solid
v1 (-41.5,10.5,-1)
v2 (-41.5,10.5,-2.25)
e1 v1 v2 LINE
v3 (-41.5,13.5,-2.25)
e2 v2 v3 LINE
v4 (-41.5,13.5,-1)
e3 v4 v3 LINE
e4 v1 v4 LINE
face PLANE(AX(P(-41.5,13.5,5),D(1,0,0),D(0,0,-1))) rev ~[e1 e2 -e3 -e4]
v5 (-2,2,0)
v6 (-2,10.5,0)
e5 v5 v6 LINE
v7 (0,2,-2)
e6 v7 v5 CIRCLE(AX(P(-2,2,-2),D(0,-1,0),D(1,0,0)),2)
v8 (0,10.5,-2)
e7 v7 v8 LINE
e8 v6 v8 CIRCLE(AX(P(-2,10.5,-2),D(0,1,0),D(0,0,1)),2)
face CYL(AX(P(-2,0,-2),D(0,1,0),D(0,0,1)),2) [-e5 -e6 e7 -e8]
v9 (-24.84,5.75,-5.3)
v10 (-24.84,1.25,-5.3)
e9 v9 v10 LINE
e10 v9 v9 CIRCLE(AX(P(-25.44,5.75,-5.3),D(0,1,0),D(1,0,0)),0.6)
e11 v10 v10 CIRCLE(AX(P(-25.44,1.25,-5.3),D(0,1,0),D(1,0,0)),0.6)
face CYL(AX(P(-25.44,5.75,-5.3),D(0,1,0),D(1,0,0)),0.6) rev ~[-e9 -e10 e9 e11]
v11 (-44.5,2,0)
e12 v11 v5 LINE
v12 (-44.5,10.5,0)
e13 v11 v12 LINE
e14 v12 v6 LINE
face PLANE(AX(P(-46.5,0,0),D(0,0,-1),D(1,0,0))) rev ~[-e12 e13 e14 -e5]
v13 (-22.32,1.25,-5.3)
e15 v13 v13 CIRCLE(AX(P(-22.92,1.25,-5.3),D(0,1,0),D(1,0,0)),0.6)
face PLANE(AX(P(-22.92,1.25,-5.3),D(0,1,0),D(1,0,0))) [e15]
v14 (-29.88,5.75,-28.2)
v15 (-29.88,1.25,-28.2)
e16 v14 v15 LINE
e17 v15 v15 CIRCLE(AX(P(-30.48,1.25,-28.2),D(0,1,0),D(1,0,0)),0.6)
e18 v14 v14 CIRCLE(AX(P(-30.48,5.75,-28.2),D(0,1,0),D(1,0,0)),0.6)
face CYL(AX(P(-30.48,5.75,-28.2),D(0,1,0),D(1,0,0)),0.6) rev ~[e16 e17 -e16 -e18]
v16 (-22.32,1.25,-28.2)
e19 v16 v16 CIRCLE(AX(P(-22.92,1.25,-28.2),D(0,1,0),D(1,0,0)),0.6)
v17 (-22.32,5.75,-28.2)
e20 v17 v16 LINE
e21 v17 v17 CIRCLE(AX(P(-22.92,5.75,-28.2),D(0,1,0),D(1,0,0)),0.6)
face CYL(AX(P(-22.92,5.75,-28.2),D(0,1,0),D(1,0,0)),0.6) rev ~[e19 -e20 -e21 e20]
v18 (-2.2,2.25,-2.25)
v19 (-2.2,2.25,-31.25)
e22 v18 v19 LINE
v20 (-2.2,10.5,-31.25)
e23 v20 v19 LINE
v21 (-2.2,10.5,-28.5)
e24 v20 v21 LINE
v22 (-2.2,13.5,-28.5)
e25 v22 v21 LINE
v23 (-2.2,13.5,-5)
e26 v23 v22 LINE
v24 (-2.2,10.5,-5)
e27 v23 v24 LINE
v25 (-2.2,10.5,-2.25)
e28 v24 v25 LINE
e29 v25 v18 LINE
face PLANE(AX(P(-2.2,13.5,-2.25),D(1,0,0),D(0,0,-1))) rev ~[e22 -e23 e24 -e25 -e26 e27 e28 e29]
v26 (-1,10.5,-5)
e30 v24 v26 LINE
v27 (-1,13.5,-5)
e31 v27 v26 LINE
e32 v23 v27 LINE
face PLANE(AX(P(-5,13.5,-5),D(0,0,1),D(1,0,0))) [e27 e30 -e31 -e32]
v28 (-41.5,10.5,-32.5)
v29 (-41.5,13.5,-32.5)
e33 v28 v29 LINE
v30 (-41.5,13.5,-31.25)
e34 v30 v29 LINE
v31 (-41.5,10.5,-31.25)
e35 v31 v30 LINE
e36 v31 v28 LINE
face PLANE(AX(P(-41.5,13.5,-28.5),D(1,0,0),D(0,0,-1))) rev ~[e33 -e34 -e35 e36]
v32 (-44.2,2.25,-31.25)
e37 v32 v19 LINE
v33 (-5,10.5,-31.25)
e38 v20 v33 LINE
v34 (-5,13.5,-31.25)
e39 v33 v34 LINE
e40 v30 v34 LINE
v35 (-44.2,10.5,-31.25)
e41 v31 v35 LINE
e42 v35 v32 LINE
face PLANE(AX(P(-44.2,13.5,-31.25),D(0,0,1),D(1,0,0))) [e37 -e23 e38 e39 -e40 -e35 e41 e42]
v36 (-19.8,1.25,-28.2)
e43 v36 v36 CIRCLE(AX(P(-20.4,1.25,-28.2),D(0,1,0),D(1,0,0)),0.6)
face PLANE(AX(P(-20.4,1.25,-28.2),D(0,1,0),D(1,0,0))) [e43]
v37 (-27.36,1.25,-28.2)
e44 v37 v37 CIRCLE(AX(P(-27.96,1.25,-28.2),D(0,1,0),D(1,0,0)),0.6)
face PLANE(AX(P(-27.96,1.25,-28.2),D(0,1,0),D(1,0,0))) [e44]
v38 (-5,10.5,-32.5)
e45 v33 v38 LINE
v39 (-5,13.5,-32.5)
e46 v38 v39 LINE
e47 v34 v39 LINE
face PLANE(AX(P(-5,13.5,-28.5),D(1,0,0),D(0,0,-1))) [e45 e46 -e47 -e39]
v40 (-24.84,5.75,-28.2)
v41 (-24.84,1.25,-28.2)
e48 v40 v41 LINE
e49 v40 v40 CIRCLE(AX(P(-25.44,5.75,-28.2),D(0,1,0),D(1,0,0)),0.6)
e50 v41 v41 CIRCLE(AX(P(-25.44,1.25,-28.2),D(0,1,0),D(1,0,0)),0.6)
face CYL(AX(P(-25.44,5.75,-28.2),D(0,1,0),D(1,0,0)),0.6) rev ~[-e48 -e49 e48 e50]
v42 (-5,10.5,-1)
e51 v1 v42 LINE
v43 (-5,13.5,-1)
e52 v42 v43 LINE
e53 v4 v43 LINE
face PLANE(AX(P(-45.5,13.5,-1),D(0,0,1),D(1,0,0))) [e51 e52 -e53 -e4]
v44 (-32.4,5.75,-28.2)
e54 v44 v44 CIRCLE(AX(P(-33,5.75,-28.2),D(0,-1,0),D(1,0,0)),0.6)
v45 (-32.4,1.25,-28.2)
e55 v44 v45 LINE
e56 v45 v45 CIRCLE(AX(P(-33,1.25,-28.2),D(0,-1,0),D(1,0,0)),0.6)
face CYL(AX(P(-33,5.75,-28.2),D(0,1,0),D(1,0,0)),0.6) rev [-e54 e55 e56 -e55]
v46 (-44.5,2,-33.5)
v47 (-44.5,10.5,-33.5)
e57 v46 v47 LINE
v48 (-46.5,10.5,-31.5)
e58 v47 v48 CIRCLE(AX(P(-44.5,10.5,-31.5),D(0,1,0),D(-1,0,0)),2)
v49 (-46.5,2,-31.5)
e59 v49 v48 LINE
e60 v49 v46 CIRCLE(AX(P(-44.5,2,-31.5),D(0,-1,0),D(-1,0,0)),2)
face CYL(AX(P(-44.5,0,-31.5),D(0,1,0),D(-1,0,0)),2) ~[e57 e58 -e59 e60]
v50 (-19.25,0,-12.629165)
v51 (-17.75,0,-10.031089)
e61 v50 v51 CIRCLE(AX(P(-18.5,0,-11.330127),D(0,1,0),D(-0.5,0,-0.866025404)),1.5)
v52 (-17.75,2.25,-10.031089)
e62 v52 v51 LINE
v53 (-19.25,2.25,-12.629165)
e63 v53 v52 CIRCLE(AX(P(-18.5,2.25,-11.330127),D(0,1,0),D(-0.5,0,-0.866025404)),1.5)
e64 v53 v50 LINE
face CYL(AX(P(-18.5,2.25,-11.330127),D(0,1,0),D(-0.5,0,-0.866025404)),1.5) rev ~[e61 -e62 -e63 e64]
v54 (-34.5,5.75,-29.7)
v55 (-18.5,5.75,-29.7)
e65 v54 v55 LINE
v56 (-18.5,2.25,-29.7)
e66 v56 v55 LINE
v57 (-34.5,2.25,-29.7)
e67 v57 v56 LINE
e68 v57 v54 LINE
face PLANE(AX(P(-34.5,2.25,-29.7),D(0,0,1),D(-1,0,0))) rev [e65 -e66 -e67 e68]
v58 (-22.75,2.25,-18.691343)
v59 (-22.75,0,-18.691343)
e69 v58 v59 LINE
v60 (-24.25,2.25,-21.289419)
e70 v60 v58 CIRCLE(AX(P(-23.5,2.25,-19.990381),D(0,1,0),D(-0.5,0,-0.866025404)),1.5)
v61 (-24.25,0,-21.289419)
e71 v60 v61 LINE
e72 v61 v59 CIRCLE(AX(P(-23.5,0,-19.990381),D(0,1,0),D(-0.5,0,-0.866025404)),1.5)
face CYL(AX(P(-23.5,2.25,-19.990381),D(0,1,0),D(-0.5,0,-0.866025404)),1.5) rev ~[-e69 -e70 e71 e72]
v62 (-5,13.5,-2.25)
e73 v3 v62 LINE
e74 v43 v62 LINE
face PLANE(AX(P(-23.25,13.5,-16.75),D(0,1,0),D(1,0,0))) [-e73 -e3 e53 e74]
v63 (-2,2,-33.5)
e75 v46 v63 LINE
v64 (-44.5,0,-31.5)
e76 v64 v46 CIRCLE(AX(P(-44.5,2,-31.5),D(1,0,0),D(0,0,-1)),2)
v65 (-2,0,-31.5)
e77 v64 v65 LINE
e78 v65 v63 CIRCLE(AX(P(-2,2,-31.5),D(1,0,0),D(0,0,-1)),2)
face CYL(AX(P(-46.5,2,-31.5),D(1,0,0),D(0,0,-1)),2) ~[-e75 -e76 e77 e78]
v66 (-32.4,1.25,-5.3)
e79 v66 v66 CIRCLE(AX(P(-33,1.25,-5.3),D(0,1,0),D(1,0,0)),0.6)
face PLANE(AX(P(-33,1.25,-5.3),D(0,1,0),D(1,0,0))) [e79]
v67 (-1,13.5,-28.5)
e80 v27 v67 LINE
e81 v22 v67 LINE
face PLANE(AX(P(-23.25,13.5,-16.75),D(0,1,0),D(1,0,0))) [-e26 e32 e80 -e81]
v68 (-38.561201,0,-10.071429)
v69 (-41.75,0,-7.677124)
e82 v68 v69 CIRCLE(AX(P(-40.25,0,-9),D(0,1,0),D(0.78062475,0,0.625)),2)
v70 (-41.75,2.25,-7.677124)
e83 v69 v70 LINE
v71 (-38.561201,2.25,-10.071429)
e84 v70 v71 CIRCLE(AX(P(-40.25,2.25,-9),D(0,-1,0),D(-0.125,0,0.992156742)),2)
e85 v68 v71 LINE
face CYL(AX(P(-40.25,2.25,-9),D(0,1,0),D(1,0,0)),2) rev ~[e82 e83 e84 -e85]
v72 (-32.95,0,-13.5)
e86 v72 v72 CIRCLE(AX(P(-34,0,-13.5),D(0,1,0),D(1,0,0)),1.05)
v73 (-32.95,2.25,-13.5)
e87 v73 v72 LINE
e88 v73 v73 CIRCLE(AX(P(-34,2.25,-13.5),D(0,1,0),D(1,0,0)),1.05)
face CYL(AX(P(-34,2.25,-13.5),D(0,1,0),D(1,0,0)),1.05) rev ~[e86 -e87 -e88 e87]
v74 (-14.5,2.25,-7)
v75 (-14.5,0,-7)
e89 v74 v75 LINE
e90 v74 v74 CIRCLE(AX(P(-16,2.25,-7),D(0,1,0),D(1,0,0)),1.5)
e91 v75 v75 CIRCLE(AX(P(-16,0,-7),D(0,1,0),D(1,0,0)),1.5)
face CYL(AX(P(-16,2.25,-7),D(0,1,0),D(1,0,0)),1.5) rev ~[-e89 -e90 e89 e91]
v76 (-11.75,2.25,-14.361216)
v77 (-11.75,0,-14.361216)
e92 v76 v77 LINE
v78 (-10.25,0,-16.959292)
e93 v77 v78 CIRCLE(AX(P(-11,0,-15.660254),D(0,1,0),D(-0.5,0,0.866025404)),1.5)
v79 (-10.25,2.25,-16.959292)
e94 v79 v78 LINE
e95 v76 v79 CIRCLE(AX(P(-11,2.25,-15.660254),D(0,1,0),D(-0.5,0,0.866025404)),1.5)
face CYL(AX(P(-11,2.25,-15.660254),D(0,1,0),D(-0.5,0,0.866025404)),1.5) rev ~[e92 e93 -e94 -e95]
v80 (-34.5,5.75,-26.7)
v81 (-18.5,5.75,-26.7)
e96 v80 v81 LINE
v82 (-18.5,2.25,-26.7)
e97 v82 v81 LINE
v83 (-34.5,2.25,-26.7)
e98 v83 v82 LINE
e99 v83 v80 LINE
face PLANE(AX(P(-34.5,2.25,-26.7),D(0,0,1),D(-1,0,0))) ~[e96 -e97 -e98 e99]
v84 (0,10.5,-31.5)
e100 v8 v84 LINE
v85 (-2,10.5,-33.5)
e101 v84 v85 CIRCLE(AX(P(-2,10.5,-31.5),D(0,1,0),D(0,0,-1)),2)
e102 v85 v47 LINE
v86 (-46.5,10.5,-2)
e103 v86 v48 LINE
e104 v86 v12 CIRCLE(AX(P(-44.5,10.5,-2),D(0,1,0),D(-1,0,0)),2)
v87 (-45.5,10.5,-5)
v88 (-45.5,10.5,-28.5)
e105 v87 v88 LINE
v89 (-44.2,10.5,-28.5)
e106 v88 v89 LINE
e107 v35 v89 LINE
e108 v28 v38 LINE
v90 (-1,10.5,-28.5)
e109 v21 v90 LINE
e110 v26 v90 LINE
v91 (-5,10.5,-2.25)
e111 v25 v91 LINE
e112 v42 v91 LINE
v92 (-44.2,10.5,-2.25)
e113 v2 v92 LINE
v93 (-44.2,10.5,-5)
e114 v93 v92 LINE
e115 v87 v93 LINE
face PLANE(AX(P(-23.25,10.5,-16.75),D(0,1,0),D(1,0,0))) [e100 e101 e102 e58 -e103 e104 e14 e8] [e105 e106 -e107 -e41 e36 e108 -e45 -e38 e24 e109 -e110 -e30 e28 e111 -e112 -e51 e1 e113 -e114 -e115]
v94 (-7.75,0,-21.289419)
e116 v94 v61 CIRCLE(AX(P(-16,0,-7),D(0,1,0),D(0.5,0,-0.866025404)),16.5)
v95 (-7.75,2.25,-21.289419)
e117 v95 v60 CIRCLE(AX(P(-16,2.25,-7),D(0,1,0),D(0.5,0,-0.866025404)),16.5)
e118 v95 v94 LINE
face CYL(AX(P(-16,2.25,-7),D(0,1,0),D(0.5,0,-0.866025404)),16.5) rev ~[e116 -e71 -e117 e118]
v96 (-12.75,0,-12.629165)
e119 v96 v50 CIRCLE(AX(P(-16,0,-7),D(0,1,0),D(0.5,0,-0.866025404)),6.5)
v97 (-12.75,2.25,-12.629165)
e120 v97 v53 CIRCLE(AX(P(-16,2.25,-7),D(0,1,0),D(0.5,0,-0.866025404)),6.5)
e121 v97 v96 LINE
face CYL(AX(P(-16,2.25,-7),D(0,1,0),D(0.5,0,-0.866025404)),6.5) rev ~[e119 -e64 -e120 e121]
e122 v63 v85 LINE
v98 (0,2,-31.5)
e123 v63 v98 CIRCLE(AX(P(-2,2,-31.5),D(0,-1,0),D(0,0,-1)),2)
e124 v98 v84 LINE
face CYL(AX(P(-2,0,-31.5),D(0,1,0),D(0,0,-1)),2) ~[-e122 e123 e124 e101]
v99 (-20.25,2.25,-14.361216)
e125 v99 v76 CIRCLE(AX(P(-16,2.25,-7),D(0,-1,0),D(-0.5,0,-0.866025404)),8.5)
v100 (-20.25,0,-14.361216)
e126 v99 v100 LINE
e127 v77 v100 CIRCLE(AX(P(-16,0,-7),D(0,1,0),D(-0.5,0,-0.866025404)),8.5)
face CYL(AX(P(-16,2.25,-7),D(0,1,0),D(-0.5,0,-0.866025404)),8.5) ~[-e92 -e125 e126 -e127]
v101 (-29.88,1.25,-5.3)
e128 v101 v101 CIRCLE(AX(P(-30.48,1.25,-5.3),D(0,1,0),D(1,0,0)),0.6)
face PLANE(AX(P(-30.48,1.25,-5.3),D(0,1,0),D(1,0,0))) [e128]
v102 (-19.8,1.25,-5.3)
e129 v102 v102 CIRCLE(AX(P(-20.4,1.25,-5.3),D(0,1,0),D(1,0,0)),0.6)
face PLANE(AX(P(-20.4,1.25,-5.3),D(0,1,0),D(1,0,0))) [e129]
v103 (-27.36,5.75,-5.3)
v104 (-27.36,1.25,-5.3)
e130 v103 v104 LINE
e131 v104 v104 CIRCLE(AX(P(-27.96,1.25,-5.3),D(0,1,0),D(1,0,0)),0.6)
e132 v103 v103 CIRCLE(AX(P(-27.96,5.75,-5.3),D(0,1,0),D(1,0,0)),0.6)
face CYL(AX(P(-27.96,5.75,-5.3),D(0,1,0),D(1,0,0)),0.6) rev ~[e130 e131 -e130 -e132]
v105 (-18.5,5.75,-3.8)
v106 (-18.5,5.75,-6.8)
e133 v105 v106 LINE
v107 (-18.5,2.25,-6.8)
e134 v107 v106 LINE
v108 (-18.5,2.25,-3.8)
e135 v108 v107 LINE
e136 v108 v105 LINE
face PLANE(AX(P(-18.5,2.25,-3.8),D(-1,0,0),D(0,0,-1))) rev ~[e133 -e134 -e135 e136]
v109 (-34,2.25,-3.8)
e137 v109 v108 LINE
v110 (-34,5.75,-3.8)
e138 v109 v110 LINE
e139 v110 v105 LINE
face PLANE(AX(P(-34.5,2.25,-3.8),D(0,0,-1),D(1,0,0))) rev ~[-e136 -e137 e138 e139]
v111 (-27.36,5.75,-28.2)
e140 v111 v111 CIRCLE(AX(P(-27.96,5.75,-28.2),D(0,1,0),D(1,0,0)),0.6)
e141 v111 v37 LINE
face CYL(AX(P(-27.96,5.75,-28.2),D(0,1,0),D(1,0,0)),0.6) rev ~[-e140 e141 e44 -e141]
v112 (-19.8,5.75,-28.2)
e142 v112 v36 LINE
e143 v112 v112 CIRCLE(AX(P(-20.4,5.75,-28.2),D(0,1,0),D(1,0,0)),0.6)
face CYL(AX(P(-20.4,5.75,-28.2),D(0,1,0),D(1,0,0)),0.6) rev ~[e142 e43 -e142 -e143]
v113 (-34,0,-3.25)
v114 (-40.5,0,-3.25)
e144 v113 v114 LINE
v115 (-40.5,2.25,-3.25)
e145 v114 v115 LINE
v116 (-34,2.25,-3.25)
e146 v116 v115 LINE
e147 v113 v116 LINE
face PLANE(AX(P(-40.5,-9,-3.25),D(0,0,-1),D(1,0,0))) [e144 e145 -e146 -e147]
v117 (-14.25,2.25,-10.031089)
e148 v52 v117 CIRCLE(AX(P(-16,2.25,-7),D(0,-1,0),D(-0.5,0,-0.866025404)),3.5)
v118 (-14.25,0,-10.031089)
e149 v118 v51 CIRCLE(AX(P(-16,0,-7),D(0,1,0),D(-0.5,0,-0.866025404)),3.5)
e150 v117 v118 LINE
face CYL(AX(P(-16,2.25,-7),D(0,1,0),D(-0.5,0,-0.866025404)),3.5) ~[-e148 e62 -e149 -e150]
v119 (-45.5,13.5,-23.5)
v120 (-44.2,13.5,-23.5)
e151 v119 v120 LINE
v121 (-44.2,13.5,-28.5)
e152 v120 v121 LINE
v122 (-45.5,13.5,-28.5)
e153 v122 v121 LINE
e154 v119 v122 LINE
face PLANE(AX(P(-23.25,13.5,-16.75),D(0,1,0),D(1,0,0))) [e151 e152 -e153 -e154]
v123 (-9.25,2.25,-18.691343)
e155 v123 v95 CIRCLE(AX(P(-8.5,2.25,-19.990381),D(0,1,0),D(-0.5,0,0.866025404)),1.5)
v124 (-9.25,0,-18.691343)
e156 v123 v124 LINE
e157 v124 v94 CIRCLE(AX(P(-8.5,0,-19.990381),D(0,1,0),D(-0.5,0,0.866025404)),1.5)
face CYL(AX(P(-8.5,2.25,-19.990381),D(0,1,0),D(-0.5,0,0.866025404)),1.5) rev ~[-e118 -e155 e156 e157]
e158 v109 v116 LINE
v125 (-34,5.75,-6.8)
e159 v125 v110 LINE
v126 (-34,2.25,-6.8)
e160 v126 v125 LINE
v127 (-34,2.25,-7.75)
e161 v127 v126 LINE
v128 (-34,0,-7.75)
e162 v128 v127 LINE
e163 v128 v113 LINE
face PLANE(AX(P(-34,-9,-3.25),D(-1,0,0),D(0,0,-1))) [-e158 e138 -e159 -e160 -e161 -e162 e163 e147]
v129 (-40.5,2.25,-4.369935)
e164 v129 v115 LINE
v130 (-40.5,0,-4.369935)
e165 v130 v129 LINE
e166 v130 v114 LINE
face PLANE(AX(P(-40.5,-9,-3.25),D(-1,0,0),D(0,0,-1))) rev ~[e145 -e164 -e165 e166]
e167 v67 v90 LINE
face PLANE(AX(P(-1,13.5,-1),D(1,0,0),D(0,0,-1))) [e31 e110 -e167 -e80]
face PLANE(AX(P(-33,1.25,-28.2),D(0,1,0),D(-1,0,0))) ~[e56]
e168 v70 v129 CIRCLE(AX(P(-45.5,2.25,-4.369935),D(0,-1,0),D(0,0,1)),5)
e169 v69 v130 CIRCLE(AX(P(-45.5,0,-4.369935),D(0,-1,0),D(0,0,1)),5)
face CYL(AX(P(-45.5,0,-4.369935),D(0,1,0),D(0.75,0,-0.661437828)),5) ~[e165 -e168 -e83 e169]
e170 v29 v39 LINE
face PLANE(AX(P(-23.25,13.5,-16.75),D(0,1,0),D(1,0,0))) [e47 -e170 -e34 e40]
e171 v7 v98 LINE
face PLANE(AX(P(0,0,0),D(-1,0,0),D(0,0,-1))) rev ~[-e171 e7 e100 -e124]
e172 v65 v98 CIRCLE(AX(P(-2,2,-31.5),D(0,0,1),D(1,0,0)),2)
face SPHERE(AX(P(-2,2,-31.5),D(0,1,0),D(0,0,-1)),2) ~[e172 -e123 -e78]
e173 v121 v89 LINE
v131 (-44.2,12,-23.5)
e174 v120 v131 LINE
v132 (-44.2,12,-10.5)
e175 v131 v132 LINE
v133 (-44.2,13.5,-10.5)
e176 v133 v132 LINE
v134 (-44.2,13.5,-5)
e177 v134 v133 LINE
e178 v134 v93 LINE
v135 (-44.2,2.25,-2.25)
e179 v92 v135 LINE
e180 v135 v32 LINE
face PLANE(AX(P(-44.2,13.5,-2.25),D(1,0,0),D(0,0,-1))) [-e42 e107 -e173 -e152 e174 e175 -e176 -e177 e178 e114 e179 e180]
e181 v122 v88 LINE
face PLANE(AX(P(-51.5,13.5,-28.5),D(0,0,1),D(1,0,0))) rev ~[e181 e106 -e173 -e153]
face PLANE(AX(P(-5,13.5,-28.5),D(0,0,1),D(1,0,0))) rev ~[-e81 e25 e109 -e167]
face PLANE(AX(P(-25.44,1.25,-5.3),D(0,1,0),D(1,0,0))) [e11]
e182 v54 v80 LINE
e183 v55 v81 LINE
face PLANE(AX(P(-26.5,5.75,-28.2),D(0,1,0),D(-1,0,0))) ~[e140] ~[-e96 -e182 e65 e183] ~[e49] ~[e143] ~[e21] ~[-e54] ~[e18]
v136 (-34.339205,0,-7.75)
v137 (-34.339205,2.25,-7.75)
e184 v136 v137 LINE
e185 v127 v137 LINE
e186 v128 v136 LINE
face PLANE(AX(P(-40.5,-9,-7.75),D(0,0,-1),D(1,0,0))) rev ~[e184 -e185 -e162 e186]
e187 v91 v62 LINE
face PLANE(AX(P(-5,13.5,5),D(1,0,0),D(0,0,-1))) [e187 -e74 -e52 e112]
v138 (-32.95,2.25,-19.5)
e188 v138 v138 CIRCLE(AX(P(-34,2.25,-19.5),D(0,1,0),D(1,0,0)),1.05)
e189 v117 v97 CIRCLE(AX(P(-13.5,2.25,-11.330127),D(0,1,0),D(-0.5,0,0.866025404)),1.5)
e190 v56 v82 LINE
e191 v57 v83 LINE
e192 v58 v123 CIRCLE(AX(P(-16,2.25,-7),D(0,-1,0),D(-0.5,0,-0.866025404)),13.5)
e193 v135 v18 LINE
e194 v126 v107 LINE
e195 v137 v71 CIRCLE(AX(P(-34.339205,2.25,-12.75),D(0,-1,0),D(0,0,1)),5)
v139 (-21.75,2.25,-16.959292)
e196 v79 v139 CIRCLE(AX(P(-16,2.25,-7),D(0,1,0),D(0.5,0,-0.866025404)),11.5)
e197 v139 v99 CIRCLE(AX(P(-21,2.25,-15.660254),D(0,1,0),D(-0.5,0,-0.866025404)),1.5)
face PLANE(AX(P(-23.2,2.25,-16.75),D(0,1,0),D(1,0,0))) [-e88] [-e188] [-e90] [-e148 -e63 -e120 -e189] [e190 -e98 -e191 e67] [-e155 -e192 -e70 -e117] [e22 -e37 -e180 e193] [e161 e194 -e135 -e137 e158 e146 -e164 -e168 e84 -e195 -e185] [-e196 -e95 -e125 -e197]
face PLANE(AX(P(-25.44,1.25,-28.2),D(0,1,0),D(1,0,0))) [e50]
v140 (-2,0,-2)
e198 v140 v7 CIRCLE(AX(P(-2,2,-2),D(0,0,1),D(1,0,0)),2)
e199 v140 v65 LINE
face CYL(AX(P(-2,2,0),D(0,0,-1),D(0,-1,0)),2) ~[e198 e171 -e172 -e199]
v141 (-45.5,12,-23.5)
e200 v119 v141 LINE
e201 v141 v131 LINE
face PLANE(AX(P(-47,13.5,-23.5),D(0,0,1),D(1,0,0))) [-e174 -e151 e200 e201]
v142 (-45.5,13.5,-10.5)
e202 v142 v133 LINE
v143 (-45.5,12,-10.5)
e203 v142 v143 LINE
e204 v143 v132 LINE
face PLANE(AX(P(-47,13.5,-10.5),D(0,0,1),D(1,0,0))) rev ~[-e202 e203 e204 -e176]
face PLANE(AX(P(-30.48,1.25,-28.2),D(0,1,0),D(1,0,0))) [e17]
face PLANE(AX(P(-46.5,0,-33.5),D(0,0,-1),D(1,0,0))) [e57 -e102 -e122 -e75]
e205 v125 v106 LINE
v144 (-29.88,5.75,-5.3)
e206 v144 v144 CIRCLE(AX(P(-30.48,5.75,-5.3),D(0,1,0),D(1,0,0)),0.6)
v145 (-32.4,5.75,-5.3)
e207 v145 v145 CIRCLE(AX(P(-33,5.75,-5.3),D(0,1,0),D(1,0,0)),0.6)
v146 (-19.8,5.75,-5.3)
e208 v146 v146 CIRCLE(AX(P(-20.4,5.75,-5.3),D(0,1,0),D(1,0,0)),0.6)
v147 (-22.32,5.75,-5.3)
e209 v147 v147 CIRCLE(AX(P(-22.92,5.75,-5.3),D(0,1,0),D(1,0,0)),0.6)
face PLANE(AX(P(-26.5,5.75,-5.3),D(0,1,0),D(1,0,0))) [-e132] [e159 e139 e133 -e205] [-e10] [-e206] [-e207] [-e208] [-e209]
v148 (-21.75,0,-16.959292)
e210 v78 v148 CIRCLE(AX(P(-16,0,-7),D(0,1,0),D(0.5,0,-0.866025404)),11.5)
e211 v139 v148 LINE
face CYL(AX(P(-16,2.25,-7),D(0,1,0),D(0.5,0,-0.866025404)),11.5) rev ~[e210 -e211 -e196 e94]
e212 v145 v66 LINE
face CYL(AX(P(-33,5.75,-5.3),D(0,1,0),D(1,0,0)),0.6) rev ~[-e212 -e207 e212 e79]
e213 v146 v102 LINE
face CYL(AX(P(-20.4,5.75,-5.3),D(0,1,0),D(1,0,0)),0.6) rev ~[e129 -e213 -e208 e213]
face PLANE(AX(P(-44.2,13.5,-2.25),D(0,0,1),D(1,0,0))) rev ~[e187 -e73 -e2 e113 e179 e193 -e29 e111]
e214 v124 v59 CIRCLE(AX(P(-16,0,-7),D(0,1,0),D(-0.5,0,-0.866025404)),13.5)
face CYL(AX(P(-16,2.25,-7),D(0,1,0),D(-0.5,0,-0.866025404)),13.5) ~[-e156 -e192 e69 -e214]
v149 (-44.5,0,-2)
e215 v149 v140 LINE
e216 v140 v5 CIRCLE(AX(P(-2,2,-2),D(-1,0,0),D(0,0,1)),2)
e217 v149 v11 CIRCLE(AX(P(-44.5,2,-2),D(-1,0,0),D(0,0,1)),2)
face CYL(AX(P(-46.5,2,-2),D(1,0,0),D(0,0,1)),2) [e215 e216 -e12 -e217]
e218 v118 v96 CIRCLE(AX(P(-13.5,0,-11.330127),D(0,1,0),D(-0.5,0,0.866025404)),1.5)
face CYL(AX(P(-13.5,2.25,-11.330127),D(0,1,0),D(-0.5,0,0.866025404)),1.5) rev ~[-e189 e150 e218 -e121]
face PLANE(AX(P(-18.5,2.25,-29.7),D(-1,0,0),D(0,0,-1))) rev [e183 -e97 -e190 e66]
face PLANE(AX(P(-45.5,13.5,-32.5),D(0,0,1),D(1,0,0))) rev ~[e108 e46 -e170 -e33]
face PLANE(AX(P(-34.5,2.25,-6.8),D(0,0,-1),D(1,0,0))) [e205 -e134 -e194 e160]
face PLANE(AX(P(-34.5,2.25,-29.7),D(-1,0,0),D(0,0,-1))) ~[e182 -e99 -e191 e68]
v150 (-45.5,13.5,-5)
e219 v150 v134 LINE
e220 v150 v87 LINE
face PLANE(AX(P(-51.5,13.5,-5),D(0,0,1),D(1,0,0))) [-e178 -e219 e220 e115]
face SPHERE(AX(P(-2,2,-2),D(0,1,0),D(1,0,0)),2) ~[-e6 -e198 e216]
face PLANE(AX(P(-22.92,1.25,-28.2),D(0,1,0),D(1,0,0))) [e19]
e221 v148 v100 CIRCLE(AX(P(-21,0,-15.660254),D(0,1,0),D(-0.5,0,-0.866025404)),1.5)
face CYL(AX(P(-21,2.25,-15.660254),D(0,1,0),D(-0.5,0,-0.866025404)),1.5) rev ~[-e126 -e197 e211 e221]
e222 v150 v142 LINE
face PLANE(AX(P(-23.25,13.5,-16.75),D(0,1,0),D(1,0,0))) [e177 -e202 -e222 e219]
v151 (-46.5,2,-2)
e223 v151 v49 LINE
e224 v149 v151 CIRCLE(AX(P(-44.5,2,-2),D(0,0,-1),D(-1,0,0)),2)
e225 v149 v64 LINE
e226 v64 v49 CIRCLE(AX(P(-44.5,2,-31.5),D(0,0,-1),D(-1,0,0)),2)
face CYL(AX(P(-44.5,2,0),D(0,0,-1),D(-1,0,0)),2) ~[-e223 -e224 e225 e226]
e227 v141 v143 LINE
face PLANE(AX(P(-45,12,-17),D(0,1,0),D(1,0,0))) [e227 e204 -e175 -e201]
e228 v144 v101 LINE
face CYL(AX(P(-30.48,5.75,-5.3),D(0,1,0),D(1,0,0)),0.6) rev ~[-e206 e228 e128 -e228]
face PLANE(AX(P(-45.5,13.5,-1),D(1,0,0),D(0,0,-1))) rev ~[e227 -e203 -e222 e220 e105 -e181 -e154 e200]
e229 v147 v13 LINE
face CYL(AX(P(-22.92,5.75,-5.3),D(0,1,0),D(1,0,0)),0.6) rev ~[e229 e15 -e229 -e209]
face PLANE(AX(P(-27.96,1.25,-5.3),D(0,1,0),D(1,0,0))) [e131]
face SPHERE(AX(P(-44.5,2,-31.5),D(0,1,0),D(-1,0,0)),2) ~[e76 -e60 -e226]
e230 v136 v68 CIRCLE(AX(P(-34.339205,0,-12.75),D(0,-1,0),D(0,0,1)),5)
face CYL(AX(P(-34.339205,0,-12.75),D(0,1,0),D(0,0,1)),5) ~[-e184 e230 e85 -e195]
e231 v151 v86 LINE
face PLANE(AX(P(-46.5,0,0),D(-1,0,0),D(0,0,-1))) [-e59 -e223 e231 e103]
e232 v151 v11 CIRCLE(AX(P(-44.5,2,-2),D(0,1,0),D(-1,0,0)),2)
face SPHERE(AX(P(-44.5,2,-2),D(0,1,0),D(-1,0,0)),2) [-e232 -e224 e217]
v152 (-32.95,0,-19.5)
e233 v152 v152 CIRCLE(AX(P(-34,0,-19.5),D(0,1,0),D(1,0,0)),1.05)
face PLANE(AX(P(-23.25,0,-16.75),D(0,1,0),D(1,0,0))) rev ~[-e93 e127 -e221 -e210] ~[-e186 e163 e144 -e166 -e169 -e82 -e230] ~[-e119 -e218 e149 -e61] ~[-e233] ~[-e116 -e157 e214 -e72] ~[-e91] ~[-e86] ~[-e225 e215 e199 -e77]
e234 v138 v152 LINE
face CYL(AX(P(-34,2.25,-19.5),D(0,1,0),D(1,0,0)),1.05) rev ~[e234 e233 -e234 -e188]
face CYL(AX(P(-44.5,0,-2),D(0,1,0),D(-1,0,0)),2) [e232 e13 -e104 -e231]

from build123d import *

# Parameters (mm, degrees)
SKETCH1_W               = 46.5
SKETCH1_H               = 33.5
BOSS_EXTRUDE1_DEPTH     = 13.5
SKETCH2_W               = 42
SKETCH2_H               = 29
CUT_EXTRUDE1_DEPTH      = 11.25
FILLET1_R               = 2
SKETCH4_R               = 1.05
CUT_EXTRUDE2_DEPTH      = 11.25
SKETCH6_R               = 1.5
CUT_EXTRUDE4_DEPTH      = 11.25
SKETCH7_R               = 2
CUT_EXTRUDE5_DEPTH      = 11.25
SKETCH8_W               = 16
SKETCH8_H               = 3
BOSS_EXTRUDE2_DEPTH     = 3.5
SKETCH9_R               = 0.6
CUT_EXTRUDE6_DEPTH      = 4.5
LPATTERN1_COUNT         = 6
LPATTERN1_PITCH         = 2.52
MIRROR1_COPY_1_SKETCH_R = 0.6
MIRROR1_COPY_1_DEPTH    = 4.5
MIRROR1_COPY_2_SKETCH_R = 0.6
MIRROR1_COPY_2_DEPTH    = 4.5
MIRROR1_COPY_3_SKETCH_R = 0.6
MIRROR1_COPY_3_DEPTH    = 4.5
MIRROR1_COPY_4_SKETCH_R = 0.6
MIRROR1_COPY_4_DEPTH    = 4.5
MIRROR1_COPY_5_SKETCH_R = 0.6
MIRROR1_COPY_5_DEPTH    = 4.5
SKETCH11_W              = 48.5
SKETCH11_H              = 35.5
SKETCH11_W_2            = 44.5
SKETCH11_H_2            = 31.5
CUT_EXTRUDE7_DEPTH      = 3
SKETCH12_W              = 4
SKETCH12_H              = 13
CUT_EXTRUDE8_DEPTH      = 1.5
SKETCH13_W              = 10
SKETCH13_H              = 10
CUT_EXTRUDE9_DEPTH      = 3
CUT_EXTRUDE3_DEPTH      = 10
CUT_EXTRUDE3_DEPTH_BACK = 11.25
SKETCH5_W               = 6.5
SKETCH5_H               = 4.5
FILLET2_R               = 5


with BuildPart() as part:
    # Sketch1 → Boss-Extrude1 (new body)
    with BuildSketch(Plane(origin=(0, 0, 0), x_dir=(1, 0, 0), z_dir=(0, 1, 0))):
        with Locations((-23.25, 16.75)):
            Rectangle(SKETCH1_W, SKETCH1_H)
    extrude(amount=BOSS_EXTRUDE1_DEPTH)

    # Sketch2 → Cut-Extrude1 (cut)
    with BuildSketch(Plane(origin=(0, 13.5, 0), x_dir=(1, 0, 0), z_dir=(0, 1, 0))):
        with Locations((-23.2, 16.75)):
            Rectangle(SKETCH2_W, SKETCH2_H)
    extrude(amount=-CUT_EXTRUDE1_DEPTH, mode=Mode.SUBTRACT)

    # Fillet1
    fillet1_edges = [part.edges().sort_by_distance(p)[0] for p in [
        (-46.5, 6.75, 0),
        (-46.5, 6.75, -33.5),
        (0, 6.75, -33.5),
        (0, 6.75, 0),
        (-46.5, 0, -16.75),
        (-23.25, 0, -33.5),
        (0, 0, -16.75),
        (-23.25, 0, 0),
    ]]
    fillet(fillet1_edges, radius=FILLET1_R)

    # Sketch4 → Cut-Extrude2 (cut)
    with BuildSketch(Plane(origin=(0, 2.25, 0), x_dir=(1, 0, 0), z_dir=(0, 1, 0))):
        with Locations((-34, 19.5)):
            Circle(SKETCH4_R)
        with Locations((-34, 13.5)):
            Circle(SKETCH4_R)
    extrude(amount=-CUT_EXTRUDE2_DEPTH, mode=Mode.SUBTRACT)

    # Sketch6 → Cut-Extrude4 (cut)
    with BuildSketch(Plane(origin=(0, 2.25, 0), x_dir=(1, 0, 0), z_dir=(0, 1, 0))):
        with BuildLine():
            ThreePointArc((-19.25, 12.629165125), (-19.799038106, 10.580127019), (-17.75, 10.031088913))
            ThreePointArc((-17.75, 10.031088913), (-16, 10.5), (-14.25, 10.031088913))
            ThreePointArc((-14.25, 10.031088913), (-12.200961894, 10.580127019), (-12.75, 12.629165125))
            ThreePointArc((-12.75, 12.629165125), (-16, 13.5), (-19.25, 12.629165125))
        make_face()
        with Locations((-16, 7)):
            Circle(SKETCH6_R)
        with BuildLine():
            ThreePointArc((-21.75, 16.959292144), (-22.299038106, 14.910254038), (-20.25, 14.361215932))
            ThreePointArc((-20.25, 14.361215932), (-16, 15.5), (-11.75, 14.361215932))
            ThreePointArc((-11.75, 14.361215932), (-9.700961894, 14.910254038), (-10.25, 16.959292144))
            ThreePointArc((-10.25, 16.959292144), (-16, 18.5), (-21.75, 16.959292144))
        make_face()
        with BuildLine():
            ThreePointArc((-24.25, 21.289419162), (-24.799038106, 19.240381057), (-22.75, 18.691342951))
            ThreePointArc((-22.75, 18.691342951), (-16, 20.5), (-9.25, 18.691342951))
            ThreePointArc((-9.25, 18.691342951), (-7.200961894, 19.240381057), (-7.75, 21.289419162))
            ThreePointArc((-7.75, 21.289419162), (-16, 23.5), (-24.25, 21.289419162))
        make_face()
    extrude(amount=-CUT_EXTRUDE4_DEPTH, mode=Mode.SUBTRACT)

    # Sketch7 → Cut-Extrude5 (cut)
    with BuildSketch(Plane(origin=(0, 2.25, 0), x_dir=(1, 0, 0), z_dir=(0, 1, 0))):
        with Locations((-40.25, 9)):
            Circle(SKETCH7_R)
    extrude(amount=-CUT_EXTRUDE5_DEPTH, mode=Mode.SUBTRACT)

    # Sketch8 → Boss-Extrude2 (add)
    with BuildSketch(Plane(origin=(0, 2.25, 0), x_dir=(1, 0, 0), z_dir=(0, 1, 0))):
        with Locations((-26.5, 5.3)):
            Rectangle(SKETCH8_W, SKETCH8_H)
    boss_extrude2 = extrude(amount=BOSS_EXTRUDE2_DEPTH)

    # Sketch9 → Cut-Extrude6 (cut)
    with BuildSketch(Plane(origin=(0, 5.75, 0), x_dir=(1, 0, 0), z_dir=(0, 1, 0))):
        with Locations((-33, 5.3)):
            Circle(SKETCH9_R)
    cut_extrude6 = extrude(amount=-CUT_EXTRUDE6_DEPTH, mode=Mode.SUBTRACT)

    # LPattern1: Cut-Extrude6 ×6
    with Locations(*[(i * LPATTERN1_PITCH, 0, 0) for i in range(1, LPATTERN1_COUNT)]):
        add(cut_extrude6, mode=Mode.SUBTRACT)

    # Mirror1: Boss-Extrude2, Cut-Extrude6 across plane
    add(boss_extrude2.mirror(Plane.XY.offset(-16.75)))
    add(cut_extrude6.mirror(Plane.XY.offset(-16.75)), mode=Mode.SUBTRACT)

    # Mirror1 copy 1 sketch → Mirror1 copy 1 (cut)
    with BuildSketch(Plane(origin=(2.52, 5.75, -33.5), x_dir=(1, 0, 0), z_dir=(0, 1, 0))):
        with Locations((-33, -5.3)):
            Circle(MIRROR1_COPY_1_SKETCH_R)
    extrude(amount=-MIRROR1_COPY_1_DEPTH, mode=Mode.SUBTRACT)

    # Mirror1 copy 2 sketch → Mirror1 copy 2 (cut)
    with BuildSketch(Plane(origin=(5.04, 5.75, -33.5), x_dir=(1, 0, 0), z_dir=(0, 1, 0))):
        with Locations((-33, -5.3)):
            Circle(MIRROR1_COPY_2_SKETCH_R)
    extrude(amount=-MIRROR1_COPY_2_DEPTH, mode=Mode.SUBTRACT)

    # Mirror1 copy 3 sketch → Mirror1 copy 3 (cut)
    with BuildSketch(Plane(origin=(7.56, 5.75, -33.5), x_dir=(1, 0, 0), z_dir=(0, 1, 0))):
        with Locations((-33, -5.3)):
            Circle(MIRROR1_COPY_3_SKETCH_R)
    extrude(amount=-MIRROR1_COPY_3_DEPTH, mode=Mode.SUBTRACT)

    # Mirror1 copy 4 sketch → Mirror1 copy 4 (cut)
    with BuildSketch(Plane(origin=(10.08, 5.75, -33.5), x_dir=(1, 0, 0), z_dir=(0, 1, 0))):
        with Locations((-33, -5.3)):
            Circle(MIRROR1_COPY_4_SKETCH_R)
    extrude(amount=-MIRROR1_COPY_4_DEPTH, mode=Mode.SUBTRACT)

    # Mirror1 copy 5 sketch → Mirror1 copy 5 (cut)
    with BuildSketch(Plane(origin=(12.6, 5.75, -33.5), x_dir=(1, 0, 0), z_dir=(0, 1, 0))):
        with Locations((-33, -5.3)):
            Circle(MIRROR1_COPY_5_SKETCH_R)
    extrude(amount=-MIRROR1_COPY_5_DEPTH, mode=Mode.SUBTRACT)

    # Sketch11 → Cut-Extrude7 (cut)
    with BuildSketch(Plane(origin=(0, 13.5, 0), x_dir=(1, 0, 0), z_dir=(0, 1, 0))):
        with Locations((-23.25, 16.75)):
            Rectangle(SKETCH11_W, SKETCH11_H)
        with Locations((-23.25, 16.75)):
            Rectangle(SKETCH11_W_2, SKETCH11_H_2, mode=Mode.SUBTRACT)
    extrude(amount=-CUT_EXTRUDE7_DEPTH, mode=Mode.SUBTRACT)

    # Sketch12 → Cut-Extrude8 (cut)
    with BuildSketch(Plane(origin=(0, 13.5, 0), x_dir=(1, 0, 0), z_dir=(0, 1, 0))):
        with Locations((-45, 17)):
            Rectangle(SKETCH12_W, SKETCH12_H)
    extrude(amount=-CUT_EXTRUDE8_DEPTH, mode=Mode.SUBTRACT)

    # Sketch13 → Cut-Extrude9 (cut)
    with BuildSketch(Plane(origin=(0, 13.5, 0), x_dir=(1, 0, 0), z_dir=(0, 1, 0))):
        Rectangle(SKETCH13_W, SKETCH13_H)
        with Locations((0, 33.5)):
            Rectangle(SKETCH13_W, SKETCH13_H)
        with Locations((-46.5, 33.5)):
            Rectangle(SKETCH13_W, SKETCH13_H)
        with Locations((-46.5, 0)):
            Rectangle(SKETCH13_W, SKETCH13_H)
    extrude(amount=-CUT_EXTRUDE9_DEPTH, mode=Mode.SUBTRACT)

    # Sketch5 → Cut-Extrude3 (cut, two sides: drawn at the far end of the back side and taken through both)
    with BuildSketch(Plane(origin=(0, 2.25, 0), x_dir=(1, 0, 0), z_dir=(0, 1, 0)).offset(-CUT_EXTRUDE3_DEPTH_BACK)):
        with Locations((-37.25, 5.5)):
            Rectangle(SKETCH5_W, SKETCH5_H)
    extrude(amount=CUT_EXTRUDE3_DEPTH + CUT_EXTRUDE3_DEPTH_BACK, mode=Mode.SUBTRACT)

    # Fillet2
    fillet2_edges = [part.edges().sort_by_distance(p)[0] for p in [
        (-40.5, 1.125, -7.015686517),
        (-38.6887505, 1.125, -7.75),
    ]]
    fillet(fillet2_edges, radius=FILLET2_R)


solid = part.part
